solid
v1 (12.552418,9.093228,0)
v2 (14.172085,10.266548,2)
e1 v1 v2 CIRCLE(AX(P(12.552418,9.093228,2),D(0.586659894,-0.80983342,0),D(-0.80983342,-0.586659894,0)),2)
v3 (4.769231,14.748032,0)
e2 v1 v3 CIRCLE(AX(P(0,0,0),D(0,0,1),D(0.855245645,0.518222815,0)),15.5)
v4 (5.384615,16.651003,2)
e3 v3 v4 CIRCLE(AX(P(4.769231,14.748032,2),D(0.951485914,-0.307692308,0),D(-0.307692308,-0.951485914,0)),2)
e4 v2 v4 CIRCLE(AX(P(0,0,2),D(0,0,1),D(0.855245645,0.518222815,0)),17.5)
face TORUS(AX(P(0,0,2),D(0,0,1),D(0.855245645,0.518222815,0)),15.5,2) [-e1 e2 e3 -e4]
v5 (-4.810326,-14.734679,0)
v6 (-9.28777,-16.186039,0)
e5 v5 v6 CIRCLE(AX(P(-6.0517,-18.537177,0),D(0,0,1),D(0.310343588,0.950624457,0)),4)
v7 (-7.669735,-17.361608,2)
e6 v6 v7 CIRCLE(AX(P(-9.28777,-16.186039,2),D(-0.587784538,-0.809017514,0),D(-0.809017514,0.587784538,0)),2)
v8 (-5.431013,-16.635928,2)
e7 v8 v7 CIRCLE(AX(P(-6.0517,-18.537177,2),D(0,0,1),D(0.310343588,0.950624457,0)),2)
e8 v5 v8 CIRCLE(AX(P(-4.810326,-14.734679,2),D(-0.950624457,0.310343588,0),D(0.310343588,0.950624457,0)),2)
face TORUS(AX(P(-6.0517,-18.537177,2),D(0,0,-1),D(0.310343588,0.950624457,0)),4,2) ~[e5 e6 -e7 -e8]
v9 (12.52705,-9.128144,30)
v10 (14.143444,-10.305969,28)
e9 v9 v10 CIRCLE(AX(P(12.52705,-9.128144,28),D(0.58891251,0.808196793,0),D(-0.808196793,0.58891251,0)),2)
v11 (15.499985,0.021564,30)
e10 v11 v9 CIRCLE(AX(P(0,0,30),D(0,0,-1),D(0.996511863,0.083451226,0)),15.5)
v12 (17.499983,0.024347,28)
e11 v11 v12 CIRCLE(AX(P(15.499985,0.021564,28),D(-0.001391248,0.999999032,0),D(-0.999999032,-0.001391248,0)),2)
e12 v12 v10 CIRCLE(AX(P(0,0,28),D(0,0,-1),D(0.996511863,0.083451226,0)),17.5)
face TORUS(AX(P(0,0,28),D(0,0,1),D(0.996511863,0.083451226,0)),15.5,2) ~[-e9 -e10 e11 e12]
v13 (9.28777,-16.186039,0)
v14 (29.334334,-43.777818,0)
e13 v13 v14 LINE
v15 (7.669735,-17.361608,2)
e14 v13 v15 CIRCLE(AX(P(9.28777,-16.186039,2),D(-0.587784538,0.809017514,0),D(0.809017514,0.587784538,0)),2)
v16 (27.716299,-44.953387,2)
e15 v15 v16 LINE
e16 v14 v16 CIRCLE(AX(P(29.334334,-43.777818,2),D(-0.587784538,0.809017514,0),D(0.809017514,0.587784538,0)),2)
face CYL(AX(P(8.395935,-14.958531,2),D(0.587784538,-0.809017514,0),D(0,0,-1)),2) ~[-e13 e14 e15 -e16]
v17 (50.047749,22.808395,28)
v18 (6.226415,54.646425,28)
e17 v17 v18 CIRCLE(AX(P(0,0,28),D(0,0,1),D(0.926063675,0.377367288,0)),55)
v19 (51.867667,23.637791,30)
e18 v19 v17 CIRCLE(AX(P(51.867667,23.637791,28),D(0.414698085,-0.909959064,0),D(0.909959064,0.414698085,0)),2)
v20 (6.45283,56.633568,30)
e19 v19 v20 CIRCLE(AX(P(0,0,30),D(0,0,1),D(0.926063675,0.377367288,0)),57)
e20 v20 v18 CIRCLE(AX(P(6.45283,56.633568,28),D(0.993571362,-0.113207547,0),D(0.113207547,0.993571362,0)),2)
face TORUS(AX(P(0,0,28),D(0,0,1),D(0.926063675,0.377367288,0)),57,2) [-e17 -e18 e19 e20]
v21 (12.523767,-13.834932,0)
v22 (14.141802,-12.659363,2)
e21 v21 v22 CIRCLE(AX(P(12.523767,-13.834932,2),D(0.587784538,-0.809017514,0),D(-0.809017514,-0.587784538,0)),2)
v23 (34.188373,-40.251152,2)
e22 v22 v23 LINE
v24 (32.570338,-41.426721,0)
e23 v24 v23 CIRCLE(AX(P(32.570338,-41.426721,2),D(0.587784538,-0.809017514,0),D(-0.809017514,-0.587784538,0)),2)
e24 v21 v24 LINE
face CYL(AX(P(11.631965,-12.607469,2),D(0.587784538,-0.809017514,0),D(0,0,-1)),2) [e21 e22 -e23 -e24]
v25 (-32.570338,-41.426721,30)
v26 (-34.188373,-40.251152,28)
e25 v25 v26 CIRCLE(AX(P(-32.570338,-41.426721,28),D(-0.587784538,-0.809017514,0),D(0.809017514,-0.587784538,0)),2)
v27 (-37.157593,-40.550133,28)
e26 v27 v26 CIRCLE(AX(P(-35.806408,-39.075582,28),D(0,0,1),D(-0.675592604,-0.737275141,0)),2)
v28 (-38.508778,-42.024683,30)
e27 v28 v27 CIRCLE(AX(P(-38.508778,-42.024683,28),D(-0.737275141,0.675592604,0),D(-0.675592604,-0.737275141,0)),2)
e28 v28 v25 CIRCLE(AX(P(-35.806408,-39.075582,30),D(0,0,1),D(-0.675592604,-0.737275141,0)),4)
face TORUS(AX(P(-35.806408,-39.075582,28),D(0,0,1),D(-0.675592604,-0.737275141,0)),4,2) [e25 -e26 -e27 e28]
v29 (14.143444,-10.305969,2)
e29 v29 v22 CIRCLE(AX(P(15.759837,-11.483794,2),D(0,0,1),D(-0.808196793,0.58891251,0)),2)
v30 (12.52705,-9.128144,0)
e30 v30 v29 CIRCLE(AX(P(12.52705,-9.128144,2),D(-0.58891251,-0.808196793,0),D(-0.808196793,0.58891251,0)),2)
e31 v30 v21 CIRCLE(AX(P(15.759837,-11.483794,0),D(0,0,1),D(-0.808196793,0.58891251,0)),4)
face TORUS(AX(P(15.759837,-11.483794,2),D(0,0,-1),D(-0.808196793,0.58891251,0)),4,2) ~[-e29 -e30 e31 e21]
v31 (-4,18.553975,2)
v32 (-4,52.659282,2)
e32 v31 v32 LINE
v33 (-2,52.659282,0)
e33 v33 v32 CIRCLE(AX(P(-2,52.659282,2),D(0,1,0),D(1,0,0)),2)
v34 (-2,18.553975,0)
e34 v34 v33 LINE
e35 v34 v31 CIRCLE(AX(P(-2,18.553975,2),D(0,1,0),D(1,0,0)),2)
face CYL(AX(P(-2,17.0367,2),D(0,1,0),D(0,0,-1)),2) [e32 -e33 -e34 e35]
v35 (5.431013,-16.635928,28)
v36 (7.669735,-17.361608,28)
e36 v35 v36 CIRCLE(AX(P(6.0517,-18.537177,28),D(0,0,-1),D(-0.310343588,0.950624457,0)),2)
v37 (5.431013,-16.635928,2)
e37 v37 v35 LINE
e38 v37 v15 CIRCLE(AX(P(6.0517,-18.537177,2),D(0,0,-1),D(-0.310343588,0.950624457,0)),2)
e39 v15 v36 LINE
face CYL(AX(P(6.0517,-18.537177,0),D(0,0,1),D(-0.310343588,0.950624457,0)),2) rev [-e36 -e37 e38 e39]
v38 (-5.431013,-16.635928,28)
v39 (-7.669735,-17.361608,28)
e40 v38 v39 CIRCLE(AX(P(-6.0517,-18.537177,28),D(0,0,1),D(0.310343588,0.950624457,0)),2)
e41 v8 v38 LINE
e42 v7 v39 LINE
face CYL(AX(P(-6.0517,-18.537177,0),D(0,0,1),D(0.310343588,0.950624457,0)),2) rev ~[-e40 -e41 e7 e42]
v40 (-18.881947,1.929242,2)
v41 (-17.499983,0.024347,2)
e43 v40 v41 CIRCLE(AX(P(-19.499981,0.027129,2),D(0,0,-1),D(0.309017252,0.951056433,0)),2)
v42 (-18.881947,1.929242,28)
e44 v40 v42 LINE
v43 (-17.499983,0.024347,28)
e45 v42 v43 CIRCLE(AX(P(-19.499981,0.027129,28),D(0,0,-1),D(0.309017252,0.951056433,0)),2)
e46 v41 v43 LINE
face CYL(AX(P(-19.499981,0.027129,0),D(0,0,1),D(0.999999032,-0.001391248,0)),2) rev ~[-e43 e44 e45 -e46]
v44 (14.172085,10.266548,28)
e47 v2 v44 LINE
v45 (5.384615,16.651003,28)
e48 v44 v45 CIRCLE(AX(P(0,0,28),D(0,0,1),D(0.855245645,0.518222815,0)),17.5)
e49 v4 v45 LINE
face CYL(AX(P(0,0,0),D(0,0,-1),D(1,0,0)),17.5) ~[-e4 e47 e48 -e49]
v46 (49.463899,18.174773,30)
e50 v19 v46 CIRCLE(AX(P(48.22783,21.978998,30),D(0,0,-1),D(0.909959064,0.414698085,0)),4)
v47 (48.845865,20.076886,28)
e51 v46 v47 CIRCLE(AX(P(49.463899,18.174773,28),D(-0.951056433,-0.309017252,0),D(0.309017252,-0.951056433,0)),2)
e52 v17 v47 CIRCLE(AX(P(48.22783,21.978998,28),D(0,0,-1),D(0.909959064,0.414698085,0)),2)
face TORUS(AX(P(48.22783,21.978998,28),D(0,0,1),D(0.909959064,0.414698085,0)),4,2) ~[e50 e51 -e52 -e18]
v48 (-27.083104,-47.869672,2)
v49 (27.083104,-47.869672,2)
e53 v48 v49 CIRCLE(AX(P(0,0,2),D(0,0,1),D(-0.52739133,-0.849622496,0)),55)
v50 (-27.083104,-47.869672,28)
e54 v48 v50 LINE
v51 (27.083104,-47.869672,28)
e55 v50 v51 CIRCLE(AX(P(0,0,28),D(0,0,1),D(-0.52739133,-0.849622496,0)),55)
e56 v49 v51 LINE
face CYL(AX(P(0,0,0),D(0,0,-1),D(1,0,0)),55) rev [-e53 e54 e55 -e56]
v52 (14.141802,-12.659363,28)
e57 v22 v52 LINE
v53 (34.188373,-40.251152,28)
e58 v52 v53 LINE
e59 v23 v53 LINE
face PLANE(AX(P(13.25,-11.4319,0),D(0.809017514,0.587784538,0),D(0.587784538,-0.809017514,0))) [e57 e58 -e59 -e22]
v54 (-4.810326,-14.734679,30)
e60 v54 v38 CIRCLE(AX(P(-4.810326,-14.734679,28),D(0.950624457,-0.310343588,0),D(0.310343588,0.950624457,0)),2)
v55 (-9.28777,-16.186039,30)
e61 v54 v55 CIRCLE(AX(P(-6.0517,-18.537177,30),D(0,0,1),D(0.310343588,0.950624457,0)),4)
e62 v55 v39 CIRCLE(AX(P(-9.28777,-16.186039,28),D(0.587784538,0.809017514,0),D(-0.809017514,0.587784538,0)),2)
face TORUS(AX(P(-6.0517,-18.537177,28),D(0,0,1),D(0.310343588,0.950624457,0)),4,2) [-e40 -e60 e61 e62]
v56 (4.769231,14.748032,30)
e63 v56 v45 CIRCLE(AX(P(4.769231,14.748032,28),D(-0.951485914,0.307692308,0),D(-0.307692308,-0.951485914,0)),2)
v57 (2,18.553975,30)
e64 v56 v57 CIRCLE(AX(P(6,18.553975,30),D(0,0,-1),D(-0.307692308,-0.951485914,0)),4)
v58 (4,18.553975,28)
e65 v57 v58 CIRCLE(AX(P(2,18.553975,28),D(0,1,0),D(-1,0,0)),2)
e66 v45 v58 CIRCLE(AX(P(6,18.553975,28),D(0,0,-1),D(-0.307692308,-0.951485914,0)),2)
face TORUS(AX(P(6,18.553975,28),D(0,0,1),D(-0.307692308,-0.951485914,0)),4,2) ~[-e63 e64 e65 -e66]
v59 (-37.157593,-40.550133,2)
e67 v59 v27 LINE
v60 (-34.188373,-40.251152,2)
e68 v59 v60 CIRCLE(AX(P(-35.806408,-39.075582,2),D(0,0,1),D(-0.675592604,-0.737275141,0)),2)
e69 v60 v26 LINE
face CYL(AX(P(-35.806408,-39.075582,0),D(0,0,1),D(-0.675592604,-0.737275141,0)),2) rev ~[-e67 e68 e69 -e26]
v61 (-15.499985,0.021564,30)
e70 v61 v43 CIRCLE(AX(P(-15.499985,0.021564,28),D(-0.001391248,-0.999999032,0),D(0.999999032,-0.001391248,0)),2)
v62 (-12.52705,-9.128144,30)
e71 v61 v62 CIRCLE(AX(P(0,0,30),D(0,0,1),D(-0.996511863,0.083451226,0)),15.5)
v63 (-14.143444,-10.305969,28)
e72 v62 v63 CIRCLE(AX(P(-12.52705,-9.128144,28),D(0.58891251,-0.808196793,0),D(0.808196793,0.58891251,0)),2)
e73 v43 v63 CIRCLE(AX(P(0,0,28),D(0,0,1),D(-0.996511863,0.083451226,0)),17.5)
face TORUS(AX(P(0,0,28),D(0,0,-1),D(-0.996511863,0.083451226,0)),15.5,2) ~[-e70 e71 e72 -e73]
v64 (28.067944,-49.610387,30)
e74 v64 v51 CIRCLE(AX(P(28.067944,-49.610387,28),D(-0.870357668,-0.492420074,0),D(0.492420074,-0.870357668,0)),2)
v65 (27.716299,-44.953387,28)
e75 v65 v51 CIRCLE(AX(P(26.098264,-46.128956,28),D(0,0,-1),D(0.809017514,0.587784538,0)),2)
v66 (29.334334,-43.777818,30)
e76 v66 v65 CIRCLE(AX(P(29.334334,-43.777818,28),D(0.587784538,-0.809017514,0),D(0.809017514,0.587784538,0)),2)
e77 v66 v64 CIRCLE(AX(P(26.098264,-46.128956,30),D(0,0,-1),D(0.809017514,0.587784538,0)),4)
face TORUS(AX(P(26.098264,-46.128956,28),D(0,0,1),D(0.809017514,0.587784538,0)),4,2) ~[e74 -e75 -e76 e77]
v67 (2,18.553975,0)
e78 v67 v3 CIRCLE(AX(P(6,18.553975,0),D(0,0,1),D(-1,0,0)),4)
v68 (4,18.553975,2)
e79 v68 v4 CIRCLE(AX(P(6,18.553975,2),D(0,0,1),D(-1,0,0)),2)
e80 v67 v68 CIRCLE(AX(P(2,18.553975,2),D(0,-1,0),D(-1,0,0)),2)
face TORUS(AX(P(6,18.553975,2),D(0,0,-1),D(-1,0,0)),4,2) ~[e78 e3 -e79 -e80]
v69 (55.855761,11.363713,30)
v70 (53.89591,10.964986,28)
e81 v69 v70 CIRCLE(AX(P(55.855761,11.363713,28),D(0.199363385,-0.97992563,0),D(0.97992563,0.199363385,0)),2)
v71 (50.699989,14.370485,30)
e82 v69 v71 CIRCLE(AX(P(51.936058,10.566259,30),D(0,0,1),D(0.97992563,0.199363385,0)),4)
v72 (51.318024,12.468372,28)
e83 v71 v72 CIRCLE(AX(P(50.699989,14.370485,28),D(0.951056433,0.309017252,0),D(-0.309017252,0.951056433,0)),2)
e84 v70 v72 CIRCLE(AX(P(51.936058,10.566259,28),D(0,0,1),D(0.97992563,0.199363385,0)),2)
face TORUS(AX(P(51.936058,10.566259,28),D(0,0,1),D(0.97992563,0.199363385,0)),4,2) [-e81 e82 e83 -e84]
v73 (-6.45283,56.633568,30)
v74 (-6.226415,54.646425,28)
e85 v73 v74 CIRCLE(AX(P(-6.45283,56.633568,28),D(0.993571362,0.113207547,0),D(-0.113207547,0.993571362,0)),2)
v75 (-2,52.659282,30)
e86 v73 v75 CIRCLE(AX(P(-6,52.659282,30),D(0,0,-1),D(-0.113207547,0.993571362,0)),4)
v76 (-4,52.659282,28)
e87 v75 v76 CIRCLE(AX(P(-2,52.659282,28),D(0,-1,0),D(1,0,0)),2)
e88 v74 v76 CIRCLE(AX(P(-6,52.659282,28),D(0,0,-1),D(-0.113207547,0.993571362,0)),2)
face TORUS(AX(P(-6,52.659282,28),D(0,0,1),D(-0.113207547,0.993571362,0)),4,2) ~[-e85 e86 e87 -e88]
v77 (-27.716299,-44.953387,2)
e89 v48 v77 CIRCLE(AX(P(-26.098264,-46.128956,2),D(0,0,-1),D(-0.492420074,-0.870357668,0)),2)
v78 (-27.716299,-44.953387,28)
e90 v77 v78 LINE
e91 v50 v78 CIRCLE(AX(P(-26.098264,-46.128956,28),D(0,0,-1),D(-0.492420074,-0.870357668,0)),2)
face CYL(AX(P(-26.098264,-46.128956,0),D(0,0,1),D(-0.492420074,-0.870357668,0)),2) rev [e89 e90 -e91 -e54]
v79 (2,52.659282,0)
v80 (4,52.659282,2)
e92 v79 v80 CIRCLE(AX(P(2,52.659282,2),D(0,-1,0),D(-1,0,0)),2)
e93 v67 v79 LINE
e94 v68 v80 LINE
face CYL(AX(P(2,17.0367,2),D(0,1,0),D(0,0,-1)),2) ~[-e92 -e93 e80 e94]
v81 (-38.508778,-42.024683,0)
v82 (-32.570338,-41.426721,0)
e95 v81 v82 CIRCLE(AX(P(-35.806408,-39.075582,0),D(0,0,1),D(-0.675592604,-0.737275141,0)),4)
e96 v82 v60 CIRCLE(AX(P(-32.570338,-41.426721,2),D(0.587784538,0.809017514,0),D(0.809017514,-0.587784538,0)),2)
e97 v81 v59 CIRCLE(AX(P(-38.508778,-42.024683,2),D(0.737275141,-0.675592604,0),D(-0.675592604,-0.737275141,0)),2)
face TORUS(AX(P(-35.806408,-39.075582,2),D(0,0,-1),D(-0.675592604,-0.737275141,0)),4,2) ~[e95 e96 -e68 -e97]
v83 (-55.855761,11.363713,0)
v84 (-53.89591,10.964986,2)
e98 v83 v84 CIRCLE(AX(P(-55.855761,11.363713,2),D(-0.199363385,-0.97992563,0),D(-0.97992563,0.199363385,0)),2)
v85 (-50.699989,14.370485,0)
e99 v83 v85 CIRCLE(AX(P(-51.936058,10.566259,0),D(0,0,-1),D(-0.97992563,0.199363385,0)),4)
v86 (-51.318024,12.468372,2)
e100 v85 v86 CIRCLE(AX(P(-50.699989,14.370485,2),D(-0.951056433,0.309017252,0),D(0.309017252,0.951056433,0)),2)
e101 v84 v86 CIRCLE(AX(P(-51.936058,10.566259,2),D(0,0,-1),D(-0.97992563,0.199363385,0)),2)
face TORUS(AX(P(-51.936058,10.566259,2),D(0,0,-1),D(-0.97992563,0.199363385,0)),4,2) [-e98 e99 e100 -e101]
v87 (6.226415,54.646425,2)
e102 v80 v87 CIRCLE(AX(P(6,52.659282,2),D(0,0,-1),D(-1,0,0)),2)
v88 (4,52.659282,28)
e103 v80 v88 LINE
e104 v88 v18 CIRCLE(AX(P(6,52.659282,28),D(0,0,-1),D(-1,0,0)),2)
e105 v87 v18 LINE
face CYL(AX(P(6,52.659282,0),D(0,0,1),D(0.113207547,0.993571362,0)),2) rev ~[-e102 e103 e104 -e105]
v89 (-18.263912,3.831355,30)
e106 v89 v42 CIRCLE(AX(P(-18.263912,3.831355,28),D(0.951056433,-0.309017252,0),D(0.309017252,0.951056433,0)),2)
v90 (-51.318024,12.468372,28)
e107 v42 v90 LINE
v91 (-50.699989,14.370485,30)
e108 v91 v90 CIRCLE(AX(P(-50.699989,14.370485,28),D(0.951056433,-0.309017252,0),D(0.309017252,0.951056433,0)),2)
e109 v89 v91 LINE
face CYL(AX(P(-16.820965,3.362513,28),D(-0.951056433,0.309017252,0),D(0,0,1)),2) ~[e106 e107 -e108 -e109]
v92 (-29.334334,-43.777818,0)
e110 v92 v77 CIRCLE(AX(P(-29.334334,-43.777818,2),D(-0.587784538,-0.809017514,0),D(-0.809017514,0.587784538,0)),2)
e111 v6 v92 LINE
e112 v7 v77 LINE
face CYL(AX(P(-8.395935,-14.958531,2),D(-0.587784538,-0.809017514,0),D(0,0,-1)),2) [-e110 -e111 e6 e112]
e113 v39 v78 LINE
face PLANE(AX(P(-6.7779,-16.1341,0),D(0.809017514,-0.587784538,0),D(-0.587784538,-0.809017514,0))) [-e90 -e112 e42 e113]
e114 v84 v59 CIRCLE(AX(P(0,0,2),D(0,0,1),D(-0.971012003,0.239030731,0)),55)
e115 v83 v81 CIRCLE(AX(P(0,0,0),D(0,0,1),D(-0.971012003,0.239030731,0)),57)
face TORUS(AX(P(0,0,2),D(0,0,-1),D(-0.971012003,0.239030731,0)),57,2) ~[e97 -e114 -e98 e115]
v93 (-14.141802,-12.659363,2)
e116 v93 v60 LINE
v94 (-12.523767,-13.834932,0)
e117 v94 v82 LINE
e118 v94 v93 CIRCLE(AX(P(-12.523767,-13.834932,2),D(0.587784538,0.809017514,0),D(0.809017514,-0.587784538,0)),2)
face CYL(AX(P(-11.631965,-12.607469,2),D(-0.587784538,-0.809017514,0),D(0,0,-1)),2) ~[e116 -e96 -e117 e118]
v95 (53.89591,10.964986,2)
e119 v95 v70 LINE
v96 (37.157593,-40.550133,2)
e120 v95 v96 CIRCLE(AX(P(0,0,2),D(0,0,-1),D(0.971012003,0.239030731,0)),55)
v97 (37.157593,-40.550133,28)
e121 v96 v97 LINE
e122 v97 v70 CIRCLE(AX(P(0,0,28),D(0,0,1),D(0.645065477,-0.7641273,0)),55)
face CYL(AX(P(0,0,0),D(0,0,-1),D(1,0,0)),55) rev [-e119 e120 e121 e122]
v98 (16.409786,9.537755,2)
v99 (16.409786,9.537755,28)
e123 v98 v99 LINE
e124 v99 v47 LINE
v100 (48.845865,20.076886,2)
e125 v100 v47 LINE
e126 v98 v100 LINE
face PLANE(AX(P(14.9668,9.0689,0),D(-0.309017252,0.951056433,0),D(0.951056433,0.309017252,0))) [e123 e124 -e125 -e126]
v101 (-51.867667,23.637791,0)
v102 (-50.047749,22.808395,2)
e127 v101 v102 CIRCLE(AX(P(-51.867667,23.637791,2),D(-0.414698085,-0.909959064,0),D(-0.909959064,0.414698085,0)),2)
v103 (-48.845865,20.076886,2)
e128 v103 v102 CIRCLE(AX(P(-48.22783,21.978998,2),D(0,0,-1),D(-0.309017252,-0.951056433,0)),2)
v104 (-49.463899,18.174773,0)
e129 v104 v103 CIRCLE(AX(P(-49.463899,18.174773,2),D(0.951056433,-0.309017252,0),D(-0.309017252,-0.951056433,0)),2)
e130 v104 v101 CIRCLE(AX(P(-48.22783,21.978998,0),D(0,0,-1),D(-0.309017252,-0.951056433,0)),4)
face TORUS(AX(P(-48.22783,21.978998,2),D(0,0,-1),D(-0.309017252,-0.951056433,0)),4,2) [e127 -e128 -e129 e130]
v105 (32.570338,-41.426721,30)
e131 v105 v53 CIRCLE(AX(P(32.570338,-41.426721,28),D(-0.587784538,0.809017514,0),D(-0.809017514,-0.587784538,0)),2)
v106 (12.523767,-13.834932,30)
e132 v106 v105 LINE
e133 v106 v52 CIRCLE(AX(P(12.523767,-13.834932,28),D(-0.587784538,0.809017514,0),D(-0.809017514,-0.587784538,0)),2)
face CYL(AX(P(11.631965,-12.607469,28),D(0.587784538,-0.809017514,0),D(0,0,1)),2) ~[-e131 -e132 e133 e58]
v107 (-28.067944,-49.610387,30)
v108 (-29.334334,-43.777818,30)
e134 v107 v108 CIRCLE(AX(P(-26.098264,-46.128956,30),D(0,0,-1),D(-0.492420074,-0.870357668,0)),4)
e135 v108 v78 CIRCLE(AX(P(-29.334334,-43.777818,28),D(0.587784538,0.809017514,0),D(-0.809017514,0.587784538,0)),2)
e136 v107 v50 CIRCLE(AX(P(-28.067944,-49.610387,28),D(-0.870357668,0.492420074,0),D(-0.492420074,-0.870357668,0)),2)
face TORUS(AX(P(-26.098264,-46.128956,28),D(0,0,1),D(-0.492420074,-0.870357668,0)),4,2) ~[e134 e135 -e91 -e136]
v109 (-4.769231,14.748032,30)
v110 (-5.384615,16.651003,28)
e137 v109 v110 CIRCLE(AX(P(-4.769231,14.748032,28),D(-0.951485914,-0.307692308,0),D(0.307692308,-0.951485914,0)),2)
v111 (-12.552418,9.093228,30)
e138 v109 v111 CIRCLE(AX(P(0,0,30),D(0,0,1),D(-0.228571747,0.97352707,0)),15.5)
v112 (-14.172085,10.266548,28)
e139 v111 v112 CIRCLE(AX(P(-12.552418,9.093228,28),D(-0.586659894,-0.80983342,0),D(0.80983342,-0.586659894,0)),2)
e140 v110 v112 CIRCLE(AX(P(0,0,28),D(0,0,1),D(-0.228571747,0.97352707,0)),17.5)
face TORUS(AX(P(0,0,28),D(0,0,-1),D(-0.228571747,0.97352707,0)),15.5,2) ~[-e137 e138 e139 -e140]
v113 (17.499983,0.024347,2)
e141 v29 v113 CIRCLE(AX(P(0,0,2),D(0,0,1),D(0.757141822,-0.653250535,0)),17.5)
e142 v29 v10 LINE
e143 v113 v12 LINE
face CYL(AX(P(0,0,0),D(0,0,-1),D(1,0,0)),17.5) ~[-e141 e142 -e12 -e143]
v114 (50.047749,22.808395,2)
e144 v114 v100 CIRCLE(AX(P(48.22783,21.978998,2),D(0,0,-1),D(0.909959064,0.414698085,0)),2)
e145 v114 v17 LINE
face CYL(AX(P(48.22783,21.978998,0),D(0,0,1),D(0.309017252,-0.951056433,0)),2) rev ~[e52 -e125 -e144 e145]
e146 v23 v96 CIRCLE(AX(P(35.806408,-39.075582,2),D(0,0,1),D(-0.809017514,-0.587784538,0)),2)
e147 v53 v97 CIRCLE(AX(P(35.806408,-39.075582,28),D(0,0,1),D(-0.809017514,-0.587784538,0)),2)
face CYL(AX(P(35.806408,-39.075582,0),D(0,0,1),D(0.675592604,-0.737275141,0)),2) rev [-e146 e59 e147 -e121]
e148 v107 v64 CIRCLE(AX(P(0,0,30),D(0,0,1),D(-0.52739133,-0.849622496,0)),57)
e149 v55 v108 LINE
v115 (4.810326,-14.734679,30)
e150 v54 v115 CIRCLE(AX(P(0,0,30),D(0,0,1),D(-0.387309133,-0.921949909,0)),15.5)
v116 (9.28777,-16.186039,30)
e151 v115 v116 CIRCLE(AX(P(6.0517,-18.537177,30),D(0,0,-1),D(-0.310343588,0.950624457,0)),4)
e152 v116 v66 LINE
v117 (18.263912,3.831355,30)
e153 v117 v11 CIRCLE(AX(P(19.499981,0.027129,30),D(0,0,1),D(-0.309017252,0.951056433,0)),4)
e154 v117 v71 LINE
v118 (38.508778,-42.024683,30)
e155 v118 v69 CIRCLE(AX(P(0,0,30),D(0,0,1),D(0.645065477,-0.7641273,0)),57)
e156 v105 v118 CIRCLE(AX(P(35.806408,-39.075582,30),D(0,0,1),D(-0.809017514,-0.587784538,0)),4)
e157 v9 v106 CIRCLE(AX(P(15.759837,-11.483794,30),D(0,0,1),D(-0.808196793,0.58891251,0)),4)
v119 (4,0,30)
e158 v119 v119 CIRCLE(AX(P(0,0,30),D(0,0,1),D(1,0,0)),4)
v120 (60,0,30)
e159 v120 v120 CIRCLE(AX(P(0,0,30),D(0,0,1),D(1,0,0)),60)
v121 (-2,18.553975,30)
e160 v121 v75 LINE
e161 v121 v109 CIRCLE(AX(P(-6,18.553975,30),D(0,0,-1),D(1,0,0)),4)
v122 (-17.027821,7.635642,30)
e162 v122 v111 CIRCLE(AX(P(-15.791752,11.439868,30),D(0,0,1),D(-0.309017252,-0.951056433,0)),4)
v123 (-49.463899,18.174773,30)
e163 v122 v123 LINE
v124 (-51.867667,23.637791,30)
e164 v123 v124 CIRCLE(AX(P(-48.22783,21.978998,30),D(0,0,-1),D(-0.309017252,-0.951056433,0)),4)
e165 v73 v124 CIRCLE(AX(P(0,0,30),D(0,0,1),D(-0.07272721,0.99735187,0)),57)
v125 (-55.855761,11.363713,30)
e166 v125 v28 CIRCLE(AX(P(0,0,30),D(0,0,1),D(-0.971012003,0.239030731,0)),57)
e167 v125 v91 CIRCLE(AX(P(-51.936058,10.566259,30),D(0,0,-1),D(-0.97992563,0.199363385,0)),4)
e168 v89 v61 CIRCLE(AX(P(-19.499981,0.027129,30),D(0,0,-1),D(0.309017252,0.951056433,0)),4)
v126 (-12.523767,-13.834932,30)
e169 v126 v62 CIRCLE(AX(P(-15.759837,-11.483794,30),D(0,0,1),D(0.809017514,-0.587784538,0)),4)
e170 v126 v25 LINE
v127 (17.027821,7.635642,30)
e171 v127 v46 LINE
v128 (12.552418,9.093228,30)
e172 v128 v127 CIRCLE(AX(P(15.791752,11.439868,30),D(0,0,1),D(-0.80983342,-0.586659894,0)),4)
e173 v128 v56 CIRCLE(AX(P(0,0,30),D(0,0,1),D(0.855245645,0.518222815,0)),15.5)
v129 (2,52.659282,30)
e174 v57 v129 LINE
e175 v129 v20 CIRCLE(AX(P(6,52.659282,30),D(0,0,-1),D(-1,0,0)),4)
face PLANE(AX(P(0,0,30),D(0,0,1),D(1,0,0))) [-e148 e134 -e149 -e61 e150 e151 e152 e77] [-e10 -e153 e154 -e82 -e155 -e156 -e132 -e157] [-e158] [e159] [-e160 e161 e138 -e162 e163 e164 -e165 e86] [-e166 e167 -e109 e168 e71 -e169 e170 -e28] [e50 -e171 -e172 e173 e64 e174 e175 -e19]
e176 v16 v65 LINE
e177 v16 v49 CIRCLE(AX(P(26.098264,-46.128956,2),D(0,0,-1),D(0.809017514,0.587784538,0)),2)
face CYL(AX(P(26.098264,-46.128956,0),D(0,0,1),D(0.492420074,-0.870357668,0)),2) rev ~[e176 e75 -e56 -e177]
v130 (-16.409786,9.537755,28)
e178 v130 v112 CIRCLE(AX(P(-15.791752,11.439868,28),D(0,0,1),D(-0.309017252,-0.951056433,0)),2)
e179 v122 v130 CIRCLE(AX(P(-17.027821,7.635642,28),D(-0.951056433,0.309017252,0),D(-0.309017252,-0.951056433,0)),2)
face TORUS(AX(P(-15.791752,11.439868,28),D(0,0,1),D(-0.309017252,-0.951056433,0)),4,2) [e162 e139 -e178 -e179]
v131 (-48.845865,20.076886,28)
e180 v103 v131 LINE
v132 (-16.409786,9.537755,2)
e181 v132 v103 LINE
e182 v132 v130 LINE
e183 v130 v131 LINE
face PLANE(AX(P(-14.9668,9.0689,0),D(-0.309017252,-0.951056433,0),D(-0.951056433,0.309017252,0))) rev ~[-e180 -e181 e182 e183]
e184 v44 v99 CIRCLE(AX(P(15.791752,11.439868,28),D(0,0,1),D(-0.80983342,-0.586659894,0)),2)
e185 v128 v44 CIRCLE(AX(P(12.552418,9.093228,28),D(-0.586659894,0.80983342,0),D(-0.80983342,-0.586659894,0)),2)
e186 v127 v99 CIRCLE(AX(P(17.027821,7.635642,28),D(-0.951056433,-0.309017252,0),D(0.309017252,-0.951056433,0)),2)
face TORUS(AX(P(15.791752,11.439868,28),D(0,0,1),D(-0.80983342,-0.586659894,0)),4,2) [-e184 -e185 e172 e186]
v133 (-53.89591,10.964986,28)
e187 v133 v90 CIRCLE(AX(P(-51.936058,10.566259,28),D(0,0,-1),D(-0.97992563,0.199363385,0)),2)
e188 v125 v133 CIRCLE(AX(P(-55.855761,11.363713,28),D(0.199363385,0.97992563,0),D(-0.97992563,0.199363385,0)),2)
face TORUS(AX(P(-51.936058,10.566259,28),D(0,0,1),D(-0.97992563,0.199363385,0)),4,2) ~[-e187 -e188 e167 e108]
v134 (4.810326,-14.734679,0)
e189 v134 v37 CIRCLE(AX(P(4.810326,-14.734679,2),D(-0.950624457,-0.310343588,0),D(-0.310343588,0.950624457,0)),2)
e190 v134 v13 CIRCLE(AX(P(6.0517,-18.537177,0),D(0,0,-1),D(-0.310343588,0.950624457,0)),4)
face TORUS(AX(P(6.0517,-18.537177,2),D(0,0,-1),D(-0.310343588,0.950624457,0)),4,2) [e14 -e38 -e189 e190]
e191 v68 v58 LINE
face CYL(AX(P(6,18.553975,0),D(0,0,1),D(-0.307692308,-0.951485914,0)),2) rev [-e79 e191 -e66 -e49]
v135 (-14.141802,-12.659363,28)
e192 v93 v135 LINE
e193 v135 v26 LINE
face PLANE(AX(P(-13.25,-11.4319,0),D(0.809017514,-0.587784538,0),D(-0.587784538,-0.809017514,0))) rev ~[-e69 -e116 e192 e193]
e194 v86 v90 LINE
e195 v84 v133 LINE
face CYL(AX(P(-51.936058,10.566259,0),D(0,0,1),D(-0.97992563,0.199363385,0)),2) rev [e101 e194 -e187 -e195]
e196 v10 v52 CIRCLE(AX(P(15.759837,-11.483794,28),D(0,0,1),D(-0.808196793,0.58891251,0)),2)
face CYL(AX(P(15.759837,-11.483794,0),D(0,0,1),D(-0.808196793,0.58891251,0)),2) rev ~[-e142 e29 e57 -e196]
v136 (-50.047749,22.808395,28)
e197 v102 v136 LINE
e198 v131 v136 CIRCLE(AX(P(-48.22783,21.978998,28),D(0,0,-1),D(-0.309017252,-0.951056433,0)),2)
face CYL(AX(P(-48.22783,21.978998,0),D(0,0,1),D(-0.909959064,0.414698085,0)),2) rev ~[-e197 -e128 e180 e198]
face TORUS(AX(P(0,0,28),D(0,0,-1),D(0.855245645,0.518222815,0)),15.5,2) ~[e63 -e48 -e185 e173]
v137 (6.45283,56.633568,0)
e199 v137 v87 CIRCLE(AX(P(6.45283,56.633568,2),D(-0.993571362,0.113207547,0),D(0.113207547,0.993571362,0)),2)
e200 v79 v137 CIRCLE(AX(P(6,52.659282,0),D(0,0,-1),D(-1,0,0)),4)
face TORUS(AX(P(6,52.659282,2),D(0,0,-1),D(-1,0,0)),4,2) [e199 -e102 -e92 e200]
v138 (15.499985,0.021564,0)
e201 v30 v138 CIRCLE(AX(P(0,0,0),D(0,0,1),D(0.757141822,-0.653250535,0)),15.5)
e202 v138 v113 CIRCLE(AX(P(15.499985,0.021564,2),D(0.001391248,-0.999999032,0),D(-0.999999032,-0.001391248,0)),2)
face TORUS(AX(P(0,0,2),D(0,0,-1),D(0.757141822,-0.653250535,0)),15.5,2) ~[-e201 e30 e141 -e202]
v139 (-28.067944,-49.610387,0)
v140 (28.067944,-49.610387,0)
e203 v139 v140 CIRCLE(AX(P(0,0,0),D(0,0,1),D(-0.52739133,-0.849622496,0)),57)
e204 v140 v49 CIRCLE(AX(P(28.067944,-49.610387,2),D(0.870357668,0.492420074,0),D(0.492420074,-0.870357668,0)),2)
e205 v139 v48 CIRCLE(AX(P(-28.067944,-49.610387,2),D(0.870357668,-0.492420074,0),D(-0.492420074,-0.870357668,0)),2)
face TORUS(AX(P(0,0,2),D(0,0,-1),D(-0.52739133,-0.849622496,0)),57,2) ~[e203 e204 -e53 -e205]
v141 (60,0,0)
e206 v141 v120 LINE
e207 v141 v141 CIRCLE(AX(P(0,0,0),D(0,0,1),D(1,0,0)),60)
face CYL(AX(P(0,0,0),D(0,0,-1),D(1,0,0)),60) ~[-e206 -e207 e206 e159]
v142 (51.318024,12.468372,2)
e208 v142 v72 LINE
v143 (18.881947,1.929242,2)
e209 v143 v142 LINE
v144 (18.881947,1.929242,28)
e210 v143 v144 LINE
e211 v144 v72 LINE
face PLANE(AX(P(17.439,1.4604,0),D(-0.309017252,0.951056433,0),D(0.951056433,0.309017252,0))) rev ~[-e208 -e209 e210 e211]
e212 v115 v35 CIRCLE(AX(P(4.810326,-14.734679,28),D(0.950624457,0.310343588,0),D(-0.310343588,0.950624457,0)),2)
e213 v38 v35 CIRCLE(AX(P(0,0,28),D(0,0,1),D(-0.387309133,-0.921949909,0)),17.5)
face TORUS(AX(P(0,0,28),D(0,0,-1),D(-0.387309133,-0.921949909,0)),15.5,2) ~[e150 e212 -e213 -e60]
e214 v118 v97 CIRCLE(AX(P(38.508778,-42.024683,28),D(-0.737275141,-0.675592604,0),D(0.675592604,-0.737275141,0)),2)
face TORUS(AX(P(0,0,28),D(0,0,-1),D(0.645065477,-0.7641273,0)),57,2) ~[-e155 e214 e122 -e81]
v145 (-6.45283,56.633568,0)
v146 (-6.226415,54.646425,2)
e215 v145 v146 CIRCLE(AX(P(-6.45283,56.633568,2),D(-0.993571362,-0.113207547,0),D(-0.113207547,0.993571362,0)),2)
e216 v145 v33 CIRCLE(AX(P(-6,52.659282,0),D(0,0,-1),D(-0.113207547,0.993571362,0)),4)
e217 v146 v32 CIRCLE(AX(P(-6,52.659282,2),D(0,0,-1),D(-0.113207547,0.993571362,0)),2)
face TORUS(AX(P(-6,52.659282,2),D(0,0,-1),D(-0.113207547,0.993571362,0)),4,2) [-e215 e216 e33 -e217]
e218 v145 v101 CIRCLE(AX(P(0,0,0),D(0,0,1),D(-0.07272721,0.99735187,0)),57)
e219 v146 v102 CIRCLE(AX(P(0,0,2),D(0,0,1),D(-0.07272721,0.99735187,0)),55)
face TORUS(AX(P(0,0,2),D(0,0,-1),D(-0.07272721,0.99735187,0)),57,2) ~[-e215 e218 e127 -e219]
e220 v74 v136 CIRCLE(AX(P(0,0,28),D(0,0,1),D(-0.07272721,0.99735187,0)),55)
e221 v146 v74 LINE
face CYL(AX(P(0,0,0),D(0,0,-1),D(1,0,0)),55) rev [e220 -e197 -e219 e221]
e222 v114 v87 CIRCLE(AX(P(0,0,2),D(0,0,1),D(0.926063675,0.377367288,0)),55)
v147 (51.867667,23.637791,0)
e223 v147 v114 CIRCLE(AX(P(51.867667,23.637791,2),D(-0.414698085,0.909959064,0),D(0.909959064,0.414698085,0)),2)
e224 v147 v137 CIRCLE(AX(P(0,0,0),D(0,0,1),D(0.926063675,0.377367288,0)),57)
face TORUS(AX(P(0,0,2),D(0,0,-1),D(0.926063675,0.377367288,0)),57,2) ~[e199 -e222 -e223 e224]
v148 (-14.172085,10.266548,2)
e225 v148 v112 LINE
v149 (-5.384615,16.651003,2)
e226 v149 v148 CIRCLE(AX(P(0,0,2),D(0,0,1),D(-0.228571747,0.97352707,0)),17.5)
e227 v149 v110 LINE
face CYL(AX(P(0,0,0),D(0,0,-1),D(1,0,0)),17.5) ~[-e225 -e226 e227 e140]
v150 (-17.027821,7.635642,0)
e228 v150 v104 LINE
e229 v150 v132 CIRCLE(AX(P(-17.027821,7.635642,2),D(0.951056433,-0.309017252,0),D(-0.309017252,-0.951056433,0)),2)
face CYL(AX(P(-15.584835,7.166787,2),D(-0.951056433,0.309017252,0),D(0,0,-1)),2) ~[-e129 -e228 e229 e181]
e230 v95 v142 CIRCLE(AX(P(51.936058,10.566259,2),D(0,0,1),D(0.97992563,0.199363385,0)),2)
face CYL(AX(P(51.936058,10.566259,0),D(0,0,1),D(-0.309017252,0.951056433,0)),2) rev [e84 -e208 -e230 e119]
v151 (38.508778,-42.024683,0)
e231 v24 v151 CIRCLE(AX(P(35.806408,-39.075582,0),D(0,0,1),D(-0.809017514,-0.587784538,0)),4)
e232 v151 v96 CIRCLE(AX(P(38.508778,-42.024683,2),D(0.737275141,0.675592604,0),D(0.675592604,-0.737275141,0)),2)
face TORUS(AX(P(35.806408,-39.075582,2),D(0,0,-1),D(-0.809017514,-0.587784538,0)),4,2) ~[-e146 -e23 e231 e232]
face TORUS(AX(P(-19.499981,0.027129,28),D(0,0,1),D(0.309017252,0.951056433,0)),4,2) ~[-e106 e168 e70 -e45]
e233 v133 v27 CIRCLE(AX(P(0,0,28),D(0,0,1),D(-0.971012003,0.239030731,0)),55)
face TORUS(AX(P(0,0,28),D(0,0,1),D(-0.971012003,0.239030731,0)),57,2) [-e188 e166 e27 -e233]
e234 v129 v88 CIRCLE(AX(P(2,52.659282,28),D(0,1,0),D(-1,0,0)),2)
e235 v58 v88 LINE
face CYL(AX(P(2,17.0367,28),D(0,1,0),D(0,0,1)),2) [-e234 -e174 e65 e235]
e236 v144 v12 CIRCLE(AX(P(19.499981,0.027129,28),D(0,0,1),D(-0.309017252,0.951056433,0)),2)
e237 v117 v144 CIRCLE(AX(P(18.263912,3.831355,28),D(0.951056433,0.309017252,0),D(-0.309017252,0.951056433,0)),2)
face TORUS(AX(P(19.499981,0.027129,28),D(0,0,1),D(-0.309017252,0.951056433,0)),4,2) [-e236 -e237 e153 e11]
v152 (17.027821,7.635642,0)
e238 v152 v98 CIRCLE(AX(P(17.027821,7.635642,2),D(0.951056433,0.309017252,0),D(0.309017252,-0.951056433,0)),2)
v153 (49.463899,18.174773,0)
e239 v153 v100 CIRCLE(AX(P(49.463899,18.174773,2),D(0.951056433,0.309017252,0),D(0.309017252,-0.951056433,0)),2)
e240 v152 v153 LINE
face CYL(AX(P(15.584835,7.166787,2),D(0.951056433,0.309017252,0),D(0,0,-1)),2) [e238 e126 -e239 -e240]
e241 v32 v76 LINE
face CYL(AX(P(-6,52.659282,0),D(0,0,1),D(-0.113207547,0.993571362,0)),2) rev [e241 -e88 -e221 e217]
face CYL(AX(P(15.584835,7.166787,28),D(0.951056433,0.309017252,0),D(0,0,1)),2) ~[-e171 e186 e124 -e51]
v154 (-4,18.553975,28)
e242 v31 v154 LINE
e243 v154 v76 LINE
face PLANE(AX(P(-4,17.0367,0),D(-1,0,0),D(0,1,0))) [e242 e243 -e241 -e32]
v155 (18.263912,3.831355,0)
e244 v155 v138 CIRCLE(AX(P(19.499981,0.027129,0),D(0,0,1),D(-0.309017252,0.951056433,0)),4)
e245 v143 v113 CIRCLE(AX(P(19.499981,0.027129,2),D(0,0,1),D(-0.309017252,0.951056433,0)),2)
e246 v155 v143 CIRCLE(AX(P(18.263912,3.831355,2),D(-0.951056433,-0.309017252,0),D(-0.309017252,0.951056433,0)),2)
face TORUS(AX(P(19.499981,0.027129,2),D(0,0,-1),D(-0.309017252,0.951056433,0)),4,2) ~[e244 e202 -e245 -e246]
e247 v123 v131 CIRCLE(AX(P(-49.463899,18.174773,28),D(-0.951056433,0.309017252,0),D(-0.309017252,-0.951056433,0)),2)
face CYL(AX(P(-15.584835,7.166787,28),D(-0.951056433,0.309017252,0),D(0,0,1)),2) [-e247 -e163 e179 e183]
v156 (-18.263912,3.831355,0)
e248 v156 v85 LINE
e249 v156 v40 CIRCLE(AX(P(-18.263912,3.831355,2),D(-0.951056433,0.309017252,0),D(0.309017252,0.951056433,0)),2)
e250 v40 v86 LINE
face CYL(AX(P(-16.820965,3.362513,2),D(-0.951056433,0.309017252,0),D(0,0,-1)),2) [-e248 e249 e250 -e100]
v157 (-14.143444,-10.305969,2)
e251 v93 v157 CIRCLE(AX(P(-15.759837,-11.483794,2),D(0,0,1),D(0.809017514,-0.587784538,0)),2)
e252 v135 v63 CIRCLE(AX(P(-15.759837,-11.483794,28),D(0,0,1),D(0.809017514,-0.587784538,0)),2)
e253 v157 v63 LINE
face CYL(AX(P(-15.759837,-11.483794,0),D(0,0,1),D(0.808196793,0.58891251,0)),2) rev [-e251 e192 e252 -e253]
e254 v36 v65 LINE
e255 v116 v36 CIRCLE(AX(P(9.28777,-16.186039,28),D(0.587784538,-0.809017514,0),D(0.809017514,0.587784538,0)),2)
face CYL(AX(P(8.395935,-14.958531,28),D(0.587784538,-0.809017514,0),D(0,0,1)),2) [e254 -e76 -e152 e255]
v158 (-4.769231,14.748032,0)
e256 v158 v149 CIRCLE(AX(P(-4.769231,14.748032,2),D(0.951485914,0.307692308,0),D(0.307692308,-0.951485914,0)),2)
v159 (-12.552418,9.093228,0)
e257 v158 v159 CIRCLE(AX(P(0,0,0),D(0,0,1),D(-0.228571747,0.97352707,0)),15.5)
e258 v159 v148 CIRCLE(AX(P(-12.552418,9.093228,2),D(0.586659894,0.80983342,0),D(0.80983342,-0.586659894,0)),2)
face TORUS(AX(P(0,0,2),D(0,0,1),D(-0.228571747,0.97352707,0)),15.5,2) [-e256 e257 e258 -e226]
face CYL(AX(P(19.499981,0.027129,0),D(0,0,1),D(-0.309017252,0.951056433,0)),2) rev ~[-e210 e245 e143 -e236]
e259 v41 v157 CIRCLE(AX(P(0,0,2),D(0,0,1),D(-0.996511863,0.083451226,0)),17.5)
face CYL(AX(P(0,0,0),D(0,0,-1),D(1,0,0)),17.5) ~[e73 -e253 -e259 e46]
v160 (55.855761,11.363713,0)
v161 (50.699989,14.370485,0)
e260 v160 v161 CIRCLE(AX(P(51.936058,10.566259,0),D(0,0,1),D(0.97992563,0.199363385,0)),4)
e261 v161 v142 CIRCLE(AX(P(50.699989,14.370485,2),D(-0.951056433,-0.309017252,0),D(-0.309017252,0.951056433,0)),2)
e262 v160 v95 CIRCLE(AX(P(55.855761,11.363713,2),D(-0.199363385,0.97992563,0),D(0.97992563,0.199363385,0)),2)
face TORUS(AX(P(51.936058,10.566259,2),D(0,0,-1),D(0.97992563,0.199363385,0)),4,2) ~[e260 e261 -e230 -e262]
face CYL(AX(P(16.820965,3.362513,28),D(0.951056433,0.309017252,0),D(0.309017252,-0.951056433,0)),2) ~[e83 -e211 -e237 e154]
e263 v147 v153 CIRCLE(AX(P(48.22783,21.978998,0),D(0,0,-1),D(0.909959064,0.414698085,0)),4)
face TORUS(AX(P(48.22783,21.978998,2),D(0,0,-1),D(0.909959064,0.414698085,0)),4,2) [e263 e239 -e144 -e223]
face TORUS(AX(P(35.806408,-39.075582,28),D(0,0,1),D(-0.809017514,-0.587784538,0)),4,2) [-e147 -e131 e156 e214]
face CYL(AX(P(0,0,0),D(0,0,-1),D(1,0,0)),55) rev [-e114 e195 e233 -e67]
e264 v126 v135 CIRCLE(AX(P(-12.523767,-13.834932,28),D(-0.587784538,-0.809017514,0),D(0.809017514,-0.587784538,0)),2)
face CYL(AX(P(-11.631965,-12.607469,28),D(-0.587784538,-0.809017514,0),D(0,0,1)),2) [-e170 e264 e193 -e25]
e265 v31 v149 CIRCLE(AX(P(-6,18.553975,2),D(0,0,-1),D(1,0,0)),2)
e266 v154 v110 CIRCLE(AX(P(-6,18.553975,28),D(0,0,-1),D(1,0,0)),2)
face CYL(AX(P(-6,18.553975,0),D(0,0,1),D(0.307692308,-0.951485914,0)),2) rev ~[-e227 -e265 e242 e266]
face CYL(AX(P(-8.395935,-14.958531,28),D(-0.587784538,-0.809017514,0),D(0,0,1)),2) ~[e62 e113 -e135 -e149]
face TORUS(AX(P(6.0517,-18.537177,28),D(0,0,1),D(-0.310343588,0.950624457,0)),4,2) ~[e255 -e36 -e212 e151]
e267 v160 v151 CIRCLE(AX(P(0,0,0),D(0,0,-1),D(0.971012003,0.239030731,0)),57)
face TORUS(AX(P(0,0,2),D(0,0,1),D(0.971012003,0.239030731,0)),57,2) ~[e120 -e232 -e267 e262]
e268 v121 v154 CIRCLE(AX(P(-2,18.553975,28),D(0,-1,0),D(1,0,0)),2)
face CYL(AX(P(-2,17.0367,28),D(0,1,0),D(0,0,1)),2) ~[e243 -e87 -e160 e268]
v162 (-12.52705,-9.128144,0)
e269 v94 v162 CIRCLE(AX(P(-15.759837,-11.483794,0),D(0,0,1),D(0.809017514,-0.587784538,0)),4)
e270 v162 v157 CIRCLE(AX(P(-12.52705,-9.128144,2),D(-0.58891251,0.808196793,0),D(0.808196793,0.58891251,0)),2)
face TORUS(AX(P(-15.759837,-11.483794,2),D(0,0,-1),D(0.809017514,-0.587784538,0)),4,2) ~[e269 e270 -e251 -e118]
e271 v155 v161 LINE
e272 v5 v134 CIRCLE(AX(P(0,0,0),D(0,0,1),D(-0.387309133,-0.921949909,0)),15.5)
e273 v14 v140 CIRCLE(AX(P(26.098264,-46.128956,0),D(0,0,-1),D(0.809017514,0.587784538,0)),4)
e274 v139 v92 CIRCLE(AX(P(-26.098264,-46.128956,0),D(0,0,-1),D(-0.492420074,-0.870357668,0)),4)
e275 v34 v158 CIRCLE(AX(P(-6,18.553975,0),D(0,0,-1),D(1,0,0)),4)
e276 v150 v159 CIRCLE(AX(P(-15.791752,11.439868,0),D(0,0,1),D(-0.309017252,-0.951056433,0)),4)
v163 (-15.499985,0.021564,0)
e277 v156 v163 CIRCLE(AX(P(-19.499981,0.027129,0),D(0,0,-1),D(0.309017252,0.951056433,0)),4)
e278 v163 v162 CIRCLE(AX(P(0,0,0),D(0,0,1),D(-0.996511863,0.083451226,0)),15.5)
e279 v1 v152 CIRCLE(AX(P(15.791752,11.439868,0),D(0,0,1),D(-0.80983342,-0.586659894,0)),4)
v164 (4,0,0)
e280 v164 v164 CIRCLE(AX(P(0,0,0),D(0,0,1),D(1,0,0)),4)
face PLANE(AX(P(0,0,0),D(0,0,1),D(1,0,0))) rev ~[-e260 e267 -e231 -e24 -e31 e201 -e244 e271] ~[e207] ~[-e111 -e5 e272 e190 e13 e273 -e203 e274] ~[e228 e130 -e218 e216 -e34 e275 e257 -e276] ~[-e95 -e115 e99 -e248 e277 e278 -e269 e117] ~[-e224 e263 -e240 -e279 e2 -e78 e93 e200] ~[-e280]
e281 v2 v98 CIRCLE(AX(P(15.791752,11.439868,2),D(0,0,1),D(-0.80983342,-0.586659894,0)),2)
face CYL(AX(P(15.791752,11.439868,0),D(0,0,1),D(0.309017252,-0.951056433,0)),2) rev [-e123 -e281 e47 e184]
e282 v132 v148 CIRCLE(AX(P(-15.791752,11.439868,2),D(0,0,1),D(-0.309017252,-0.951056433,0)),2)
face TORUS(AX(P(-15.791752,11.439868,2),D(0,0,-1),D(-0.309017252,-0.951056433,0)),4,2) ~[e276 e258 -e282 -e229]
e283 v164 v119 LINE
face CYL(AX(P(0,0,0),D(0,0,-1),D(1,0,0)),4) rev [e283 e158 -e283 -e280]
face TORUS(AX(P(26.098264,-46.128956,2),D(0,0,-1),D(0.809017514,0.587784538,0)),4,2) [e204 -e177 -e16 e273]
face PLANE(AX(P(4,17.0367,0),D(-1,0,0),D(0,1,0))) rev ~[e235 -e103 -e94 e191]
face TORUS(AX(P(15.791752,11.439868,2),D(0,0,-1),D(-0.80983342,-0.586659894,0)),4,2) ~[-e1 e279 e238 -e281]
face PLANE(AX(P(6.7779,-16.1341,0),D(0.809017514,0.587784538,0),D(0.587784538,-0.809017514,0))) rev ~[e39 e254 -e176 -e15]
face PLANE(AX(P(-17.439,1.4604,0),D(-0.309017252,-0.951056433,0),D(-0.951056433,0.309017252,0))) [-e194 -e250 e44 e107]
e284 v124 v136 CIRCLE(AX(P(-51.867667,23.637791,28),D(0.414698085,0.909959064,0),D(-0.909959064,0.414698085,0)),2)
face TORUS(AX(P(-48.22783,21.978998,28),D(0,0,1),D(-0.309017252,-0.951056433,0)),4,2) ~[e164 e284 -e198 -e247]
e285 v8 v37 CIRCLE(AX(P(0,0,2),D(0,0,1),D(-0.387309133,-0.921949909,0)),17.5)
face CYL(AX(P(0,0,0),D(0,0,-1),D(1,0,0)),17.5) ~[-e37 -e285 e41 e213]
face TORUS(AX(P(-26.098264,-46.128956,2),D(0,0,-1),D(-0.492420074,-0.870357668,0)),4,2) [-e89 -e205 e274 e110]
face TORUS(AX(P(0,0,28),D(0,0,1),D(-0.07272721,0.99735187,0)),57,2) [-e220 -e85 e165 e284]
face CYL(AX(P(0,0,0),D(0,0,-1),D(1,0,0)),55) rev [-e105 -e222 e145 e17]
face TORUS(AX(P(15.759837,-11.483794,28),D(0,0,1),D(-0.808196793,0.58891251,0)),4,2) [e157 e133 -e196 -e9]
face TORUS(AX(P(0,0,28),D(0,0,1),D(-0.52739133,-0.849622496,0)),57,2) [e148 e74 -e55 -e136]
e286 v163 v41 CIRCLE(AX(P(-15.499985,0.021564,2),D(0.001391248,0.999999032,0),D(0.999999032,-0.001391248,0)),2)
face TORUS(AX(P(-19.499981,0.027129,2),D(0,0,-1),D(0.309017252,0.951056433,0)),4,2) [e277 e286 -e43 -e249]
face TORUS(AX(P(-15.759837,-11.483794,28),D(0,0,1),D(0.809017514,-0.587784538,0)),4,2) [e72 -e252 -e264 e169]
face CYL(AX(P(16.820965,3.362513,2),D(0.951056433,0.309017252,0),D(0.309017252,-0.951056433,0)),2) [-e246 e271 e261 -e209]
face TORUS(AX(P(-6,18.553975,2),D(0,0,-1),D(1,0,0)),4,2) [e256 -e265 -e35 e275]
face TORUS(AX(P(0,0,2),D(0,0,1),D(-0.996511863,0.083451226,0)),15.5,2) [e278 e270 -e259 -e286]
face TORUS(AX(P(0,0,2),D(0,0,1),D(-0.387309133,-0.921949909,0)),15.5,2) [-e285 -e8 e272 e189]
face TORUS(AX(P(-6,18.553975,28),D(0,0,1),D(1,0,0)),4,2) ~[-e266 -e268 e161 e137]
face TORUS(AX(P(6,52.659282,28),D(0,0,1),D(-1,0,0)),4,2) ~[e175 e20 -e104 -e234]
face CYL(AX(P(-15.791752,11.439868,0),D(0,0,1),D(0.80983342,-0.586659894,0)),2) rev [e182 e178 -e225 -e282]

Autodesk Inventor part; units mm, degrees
ref_plane "YZ Plane" through (0, 0, 0) normal (1, 0, 0) x (0, 1, 0)
ref_plane "XZ Plane" through (0, 0, 0) normal (0, 1, 0) x (-1, 0, 0)
ref_plane "XY Plane" through (0, 0, 0) normal (0, 0, 1) x (1, 0, 0)
sketch "스케치1" plane through (0, 0, 0) normal (0, 0, 1) x (1, 0, 0)
  circle A0 centre (0, 0) radius 72.5
  circle A1 centre (0, 0) radius 55
  circle A2 centre (0, 0) radius 4
  circle A3 centre (0, 0) radius 17.5
  line L0 (-4, 17.0367) -> (-4, 54.8544)
  line L1 (4, 17.0367) -> (4, 54.8544)
  line L2 (-17.439, 1.4604) -> (-53.4057, 13.1467)
  line L3 (-14.9668, 9.0689) -> (-50.9335, 20.7552)
  line L4 (-6.7779, -16.1341) -> (-29.0065, -46.7292)
  line L5 (-13.25, -11.4319) -> (-35.4786, -42.027)
  line L6 (13.25, -11.4319) -> (35.4786, -42.027)
  line L7 (6.7779, -16.1341) -> (29.0065, -46.7292)
  line L8 (14.9668, 9.0689) -> (50.9335, 20.7552)
  line L9 (17.439, 1.4604) -> (53.4057, 13.1467)
  circle A4 centre (0, 0) radius 60
  point P0 (53.4057, 13.1467)
  dimension "d6" = 360
  dimension "d8" = 120
extrude "돌출1" add sketch "스케치1" along normal blind 30 contours L9 A3 L8 A1 | A1 L7 A3 L6 | A3 | L1 A3 L0 A1 | A1 L5 A3 L4 | L3 A3 L2 A1 | A4
fillet "모깎기1" radius 2 60 edges at (-10.2862, 14.1578, 30) (-10.2862, 14.1578, 0) (-14.9668, 9.0689, 15) (-32.9502, 14.912, 30) (-32.9502, 14.912, 0) (-16.6435, -5.4078, 30) (-16.6435, -5.4078, 0) (-52.3081, -16.9959, 30) (-52.3081, -16.9959, 0) (-13.25, -11.4319, 15) (13.25, -11.4319, 15) (-24.3643, -26.7294, 30) (-24.3643, -26.7294, 0) (-35.4786, -42.027, 15) (-17.8922, -31.4317, 30) (17.8922, -31.4317, 30) (17.8922, -31.4317, 0) (-17.8922, -31.4317, 0) (-6.7779, -16.1341, 15) (6.7779, -16.1341, 15) (0, -17.5, 30) (0, -17.5, 0) (-29.0065, -46.7292, 15) (0, -55, 30) (0, -55, 0) (-17.439, 1.4604, 15) (-4, 17.0367, 15) (-35.4223, 7.3036, 30) (-35.4223, 7.3036, 0) (-4, 35.9455, 30) (-4, 35.9455, 0) (-4, 54.8544, 15) (-32.3282, 44.4959, 0) (-32.3282, 44.4959, 30) (-50.9335, 20.7552, 15) (29.0065, -46.7292, 15) (-53.4057, 13.1467, 15) (17.439, 1.4604, 15) (35.4223, 7.3036, 30) (35.4223, 7.3036, 0) (53.4057, 13.1467, 15) (32.9502, 14.912, 30) (32.9502, 14.912, 0) (14.9668, 9.0689, 15) (10.2862, 14.1578, 0) (4, 17.0367, 15) (10.2862, 14.1578, 30) (4, 54.8544, 15) (4, 35.9455, 0) (4, 35.9455, 30) (50.9335, 20.7552, 15) (32.3282, 44.4959, 30) (32.3282, 44.4959, 0) (16.6435, -5.4078, 30) (16.6435, -5.4078, 0) (24.3643, -26.7294, 30) (24.3643, -26.7294, 0) (52.3081, -16.9959, 30) (52.3081, -16.9959, 0) (35.4786, -42.027, 15)
properties part number "wheel" material "ABS 플라스틱"
